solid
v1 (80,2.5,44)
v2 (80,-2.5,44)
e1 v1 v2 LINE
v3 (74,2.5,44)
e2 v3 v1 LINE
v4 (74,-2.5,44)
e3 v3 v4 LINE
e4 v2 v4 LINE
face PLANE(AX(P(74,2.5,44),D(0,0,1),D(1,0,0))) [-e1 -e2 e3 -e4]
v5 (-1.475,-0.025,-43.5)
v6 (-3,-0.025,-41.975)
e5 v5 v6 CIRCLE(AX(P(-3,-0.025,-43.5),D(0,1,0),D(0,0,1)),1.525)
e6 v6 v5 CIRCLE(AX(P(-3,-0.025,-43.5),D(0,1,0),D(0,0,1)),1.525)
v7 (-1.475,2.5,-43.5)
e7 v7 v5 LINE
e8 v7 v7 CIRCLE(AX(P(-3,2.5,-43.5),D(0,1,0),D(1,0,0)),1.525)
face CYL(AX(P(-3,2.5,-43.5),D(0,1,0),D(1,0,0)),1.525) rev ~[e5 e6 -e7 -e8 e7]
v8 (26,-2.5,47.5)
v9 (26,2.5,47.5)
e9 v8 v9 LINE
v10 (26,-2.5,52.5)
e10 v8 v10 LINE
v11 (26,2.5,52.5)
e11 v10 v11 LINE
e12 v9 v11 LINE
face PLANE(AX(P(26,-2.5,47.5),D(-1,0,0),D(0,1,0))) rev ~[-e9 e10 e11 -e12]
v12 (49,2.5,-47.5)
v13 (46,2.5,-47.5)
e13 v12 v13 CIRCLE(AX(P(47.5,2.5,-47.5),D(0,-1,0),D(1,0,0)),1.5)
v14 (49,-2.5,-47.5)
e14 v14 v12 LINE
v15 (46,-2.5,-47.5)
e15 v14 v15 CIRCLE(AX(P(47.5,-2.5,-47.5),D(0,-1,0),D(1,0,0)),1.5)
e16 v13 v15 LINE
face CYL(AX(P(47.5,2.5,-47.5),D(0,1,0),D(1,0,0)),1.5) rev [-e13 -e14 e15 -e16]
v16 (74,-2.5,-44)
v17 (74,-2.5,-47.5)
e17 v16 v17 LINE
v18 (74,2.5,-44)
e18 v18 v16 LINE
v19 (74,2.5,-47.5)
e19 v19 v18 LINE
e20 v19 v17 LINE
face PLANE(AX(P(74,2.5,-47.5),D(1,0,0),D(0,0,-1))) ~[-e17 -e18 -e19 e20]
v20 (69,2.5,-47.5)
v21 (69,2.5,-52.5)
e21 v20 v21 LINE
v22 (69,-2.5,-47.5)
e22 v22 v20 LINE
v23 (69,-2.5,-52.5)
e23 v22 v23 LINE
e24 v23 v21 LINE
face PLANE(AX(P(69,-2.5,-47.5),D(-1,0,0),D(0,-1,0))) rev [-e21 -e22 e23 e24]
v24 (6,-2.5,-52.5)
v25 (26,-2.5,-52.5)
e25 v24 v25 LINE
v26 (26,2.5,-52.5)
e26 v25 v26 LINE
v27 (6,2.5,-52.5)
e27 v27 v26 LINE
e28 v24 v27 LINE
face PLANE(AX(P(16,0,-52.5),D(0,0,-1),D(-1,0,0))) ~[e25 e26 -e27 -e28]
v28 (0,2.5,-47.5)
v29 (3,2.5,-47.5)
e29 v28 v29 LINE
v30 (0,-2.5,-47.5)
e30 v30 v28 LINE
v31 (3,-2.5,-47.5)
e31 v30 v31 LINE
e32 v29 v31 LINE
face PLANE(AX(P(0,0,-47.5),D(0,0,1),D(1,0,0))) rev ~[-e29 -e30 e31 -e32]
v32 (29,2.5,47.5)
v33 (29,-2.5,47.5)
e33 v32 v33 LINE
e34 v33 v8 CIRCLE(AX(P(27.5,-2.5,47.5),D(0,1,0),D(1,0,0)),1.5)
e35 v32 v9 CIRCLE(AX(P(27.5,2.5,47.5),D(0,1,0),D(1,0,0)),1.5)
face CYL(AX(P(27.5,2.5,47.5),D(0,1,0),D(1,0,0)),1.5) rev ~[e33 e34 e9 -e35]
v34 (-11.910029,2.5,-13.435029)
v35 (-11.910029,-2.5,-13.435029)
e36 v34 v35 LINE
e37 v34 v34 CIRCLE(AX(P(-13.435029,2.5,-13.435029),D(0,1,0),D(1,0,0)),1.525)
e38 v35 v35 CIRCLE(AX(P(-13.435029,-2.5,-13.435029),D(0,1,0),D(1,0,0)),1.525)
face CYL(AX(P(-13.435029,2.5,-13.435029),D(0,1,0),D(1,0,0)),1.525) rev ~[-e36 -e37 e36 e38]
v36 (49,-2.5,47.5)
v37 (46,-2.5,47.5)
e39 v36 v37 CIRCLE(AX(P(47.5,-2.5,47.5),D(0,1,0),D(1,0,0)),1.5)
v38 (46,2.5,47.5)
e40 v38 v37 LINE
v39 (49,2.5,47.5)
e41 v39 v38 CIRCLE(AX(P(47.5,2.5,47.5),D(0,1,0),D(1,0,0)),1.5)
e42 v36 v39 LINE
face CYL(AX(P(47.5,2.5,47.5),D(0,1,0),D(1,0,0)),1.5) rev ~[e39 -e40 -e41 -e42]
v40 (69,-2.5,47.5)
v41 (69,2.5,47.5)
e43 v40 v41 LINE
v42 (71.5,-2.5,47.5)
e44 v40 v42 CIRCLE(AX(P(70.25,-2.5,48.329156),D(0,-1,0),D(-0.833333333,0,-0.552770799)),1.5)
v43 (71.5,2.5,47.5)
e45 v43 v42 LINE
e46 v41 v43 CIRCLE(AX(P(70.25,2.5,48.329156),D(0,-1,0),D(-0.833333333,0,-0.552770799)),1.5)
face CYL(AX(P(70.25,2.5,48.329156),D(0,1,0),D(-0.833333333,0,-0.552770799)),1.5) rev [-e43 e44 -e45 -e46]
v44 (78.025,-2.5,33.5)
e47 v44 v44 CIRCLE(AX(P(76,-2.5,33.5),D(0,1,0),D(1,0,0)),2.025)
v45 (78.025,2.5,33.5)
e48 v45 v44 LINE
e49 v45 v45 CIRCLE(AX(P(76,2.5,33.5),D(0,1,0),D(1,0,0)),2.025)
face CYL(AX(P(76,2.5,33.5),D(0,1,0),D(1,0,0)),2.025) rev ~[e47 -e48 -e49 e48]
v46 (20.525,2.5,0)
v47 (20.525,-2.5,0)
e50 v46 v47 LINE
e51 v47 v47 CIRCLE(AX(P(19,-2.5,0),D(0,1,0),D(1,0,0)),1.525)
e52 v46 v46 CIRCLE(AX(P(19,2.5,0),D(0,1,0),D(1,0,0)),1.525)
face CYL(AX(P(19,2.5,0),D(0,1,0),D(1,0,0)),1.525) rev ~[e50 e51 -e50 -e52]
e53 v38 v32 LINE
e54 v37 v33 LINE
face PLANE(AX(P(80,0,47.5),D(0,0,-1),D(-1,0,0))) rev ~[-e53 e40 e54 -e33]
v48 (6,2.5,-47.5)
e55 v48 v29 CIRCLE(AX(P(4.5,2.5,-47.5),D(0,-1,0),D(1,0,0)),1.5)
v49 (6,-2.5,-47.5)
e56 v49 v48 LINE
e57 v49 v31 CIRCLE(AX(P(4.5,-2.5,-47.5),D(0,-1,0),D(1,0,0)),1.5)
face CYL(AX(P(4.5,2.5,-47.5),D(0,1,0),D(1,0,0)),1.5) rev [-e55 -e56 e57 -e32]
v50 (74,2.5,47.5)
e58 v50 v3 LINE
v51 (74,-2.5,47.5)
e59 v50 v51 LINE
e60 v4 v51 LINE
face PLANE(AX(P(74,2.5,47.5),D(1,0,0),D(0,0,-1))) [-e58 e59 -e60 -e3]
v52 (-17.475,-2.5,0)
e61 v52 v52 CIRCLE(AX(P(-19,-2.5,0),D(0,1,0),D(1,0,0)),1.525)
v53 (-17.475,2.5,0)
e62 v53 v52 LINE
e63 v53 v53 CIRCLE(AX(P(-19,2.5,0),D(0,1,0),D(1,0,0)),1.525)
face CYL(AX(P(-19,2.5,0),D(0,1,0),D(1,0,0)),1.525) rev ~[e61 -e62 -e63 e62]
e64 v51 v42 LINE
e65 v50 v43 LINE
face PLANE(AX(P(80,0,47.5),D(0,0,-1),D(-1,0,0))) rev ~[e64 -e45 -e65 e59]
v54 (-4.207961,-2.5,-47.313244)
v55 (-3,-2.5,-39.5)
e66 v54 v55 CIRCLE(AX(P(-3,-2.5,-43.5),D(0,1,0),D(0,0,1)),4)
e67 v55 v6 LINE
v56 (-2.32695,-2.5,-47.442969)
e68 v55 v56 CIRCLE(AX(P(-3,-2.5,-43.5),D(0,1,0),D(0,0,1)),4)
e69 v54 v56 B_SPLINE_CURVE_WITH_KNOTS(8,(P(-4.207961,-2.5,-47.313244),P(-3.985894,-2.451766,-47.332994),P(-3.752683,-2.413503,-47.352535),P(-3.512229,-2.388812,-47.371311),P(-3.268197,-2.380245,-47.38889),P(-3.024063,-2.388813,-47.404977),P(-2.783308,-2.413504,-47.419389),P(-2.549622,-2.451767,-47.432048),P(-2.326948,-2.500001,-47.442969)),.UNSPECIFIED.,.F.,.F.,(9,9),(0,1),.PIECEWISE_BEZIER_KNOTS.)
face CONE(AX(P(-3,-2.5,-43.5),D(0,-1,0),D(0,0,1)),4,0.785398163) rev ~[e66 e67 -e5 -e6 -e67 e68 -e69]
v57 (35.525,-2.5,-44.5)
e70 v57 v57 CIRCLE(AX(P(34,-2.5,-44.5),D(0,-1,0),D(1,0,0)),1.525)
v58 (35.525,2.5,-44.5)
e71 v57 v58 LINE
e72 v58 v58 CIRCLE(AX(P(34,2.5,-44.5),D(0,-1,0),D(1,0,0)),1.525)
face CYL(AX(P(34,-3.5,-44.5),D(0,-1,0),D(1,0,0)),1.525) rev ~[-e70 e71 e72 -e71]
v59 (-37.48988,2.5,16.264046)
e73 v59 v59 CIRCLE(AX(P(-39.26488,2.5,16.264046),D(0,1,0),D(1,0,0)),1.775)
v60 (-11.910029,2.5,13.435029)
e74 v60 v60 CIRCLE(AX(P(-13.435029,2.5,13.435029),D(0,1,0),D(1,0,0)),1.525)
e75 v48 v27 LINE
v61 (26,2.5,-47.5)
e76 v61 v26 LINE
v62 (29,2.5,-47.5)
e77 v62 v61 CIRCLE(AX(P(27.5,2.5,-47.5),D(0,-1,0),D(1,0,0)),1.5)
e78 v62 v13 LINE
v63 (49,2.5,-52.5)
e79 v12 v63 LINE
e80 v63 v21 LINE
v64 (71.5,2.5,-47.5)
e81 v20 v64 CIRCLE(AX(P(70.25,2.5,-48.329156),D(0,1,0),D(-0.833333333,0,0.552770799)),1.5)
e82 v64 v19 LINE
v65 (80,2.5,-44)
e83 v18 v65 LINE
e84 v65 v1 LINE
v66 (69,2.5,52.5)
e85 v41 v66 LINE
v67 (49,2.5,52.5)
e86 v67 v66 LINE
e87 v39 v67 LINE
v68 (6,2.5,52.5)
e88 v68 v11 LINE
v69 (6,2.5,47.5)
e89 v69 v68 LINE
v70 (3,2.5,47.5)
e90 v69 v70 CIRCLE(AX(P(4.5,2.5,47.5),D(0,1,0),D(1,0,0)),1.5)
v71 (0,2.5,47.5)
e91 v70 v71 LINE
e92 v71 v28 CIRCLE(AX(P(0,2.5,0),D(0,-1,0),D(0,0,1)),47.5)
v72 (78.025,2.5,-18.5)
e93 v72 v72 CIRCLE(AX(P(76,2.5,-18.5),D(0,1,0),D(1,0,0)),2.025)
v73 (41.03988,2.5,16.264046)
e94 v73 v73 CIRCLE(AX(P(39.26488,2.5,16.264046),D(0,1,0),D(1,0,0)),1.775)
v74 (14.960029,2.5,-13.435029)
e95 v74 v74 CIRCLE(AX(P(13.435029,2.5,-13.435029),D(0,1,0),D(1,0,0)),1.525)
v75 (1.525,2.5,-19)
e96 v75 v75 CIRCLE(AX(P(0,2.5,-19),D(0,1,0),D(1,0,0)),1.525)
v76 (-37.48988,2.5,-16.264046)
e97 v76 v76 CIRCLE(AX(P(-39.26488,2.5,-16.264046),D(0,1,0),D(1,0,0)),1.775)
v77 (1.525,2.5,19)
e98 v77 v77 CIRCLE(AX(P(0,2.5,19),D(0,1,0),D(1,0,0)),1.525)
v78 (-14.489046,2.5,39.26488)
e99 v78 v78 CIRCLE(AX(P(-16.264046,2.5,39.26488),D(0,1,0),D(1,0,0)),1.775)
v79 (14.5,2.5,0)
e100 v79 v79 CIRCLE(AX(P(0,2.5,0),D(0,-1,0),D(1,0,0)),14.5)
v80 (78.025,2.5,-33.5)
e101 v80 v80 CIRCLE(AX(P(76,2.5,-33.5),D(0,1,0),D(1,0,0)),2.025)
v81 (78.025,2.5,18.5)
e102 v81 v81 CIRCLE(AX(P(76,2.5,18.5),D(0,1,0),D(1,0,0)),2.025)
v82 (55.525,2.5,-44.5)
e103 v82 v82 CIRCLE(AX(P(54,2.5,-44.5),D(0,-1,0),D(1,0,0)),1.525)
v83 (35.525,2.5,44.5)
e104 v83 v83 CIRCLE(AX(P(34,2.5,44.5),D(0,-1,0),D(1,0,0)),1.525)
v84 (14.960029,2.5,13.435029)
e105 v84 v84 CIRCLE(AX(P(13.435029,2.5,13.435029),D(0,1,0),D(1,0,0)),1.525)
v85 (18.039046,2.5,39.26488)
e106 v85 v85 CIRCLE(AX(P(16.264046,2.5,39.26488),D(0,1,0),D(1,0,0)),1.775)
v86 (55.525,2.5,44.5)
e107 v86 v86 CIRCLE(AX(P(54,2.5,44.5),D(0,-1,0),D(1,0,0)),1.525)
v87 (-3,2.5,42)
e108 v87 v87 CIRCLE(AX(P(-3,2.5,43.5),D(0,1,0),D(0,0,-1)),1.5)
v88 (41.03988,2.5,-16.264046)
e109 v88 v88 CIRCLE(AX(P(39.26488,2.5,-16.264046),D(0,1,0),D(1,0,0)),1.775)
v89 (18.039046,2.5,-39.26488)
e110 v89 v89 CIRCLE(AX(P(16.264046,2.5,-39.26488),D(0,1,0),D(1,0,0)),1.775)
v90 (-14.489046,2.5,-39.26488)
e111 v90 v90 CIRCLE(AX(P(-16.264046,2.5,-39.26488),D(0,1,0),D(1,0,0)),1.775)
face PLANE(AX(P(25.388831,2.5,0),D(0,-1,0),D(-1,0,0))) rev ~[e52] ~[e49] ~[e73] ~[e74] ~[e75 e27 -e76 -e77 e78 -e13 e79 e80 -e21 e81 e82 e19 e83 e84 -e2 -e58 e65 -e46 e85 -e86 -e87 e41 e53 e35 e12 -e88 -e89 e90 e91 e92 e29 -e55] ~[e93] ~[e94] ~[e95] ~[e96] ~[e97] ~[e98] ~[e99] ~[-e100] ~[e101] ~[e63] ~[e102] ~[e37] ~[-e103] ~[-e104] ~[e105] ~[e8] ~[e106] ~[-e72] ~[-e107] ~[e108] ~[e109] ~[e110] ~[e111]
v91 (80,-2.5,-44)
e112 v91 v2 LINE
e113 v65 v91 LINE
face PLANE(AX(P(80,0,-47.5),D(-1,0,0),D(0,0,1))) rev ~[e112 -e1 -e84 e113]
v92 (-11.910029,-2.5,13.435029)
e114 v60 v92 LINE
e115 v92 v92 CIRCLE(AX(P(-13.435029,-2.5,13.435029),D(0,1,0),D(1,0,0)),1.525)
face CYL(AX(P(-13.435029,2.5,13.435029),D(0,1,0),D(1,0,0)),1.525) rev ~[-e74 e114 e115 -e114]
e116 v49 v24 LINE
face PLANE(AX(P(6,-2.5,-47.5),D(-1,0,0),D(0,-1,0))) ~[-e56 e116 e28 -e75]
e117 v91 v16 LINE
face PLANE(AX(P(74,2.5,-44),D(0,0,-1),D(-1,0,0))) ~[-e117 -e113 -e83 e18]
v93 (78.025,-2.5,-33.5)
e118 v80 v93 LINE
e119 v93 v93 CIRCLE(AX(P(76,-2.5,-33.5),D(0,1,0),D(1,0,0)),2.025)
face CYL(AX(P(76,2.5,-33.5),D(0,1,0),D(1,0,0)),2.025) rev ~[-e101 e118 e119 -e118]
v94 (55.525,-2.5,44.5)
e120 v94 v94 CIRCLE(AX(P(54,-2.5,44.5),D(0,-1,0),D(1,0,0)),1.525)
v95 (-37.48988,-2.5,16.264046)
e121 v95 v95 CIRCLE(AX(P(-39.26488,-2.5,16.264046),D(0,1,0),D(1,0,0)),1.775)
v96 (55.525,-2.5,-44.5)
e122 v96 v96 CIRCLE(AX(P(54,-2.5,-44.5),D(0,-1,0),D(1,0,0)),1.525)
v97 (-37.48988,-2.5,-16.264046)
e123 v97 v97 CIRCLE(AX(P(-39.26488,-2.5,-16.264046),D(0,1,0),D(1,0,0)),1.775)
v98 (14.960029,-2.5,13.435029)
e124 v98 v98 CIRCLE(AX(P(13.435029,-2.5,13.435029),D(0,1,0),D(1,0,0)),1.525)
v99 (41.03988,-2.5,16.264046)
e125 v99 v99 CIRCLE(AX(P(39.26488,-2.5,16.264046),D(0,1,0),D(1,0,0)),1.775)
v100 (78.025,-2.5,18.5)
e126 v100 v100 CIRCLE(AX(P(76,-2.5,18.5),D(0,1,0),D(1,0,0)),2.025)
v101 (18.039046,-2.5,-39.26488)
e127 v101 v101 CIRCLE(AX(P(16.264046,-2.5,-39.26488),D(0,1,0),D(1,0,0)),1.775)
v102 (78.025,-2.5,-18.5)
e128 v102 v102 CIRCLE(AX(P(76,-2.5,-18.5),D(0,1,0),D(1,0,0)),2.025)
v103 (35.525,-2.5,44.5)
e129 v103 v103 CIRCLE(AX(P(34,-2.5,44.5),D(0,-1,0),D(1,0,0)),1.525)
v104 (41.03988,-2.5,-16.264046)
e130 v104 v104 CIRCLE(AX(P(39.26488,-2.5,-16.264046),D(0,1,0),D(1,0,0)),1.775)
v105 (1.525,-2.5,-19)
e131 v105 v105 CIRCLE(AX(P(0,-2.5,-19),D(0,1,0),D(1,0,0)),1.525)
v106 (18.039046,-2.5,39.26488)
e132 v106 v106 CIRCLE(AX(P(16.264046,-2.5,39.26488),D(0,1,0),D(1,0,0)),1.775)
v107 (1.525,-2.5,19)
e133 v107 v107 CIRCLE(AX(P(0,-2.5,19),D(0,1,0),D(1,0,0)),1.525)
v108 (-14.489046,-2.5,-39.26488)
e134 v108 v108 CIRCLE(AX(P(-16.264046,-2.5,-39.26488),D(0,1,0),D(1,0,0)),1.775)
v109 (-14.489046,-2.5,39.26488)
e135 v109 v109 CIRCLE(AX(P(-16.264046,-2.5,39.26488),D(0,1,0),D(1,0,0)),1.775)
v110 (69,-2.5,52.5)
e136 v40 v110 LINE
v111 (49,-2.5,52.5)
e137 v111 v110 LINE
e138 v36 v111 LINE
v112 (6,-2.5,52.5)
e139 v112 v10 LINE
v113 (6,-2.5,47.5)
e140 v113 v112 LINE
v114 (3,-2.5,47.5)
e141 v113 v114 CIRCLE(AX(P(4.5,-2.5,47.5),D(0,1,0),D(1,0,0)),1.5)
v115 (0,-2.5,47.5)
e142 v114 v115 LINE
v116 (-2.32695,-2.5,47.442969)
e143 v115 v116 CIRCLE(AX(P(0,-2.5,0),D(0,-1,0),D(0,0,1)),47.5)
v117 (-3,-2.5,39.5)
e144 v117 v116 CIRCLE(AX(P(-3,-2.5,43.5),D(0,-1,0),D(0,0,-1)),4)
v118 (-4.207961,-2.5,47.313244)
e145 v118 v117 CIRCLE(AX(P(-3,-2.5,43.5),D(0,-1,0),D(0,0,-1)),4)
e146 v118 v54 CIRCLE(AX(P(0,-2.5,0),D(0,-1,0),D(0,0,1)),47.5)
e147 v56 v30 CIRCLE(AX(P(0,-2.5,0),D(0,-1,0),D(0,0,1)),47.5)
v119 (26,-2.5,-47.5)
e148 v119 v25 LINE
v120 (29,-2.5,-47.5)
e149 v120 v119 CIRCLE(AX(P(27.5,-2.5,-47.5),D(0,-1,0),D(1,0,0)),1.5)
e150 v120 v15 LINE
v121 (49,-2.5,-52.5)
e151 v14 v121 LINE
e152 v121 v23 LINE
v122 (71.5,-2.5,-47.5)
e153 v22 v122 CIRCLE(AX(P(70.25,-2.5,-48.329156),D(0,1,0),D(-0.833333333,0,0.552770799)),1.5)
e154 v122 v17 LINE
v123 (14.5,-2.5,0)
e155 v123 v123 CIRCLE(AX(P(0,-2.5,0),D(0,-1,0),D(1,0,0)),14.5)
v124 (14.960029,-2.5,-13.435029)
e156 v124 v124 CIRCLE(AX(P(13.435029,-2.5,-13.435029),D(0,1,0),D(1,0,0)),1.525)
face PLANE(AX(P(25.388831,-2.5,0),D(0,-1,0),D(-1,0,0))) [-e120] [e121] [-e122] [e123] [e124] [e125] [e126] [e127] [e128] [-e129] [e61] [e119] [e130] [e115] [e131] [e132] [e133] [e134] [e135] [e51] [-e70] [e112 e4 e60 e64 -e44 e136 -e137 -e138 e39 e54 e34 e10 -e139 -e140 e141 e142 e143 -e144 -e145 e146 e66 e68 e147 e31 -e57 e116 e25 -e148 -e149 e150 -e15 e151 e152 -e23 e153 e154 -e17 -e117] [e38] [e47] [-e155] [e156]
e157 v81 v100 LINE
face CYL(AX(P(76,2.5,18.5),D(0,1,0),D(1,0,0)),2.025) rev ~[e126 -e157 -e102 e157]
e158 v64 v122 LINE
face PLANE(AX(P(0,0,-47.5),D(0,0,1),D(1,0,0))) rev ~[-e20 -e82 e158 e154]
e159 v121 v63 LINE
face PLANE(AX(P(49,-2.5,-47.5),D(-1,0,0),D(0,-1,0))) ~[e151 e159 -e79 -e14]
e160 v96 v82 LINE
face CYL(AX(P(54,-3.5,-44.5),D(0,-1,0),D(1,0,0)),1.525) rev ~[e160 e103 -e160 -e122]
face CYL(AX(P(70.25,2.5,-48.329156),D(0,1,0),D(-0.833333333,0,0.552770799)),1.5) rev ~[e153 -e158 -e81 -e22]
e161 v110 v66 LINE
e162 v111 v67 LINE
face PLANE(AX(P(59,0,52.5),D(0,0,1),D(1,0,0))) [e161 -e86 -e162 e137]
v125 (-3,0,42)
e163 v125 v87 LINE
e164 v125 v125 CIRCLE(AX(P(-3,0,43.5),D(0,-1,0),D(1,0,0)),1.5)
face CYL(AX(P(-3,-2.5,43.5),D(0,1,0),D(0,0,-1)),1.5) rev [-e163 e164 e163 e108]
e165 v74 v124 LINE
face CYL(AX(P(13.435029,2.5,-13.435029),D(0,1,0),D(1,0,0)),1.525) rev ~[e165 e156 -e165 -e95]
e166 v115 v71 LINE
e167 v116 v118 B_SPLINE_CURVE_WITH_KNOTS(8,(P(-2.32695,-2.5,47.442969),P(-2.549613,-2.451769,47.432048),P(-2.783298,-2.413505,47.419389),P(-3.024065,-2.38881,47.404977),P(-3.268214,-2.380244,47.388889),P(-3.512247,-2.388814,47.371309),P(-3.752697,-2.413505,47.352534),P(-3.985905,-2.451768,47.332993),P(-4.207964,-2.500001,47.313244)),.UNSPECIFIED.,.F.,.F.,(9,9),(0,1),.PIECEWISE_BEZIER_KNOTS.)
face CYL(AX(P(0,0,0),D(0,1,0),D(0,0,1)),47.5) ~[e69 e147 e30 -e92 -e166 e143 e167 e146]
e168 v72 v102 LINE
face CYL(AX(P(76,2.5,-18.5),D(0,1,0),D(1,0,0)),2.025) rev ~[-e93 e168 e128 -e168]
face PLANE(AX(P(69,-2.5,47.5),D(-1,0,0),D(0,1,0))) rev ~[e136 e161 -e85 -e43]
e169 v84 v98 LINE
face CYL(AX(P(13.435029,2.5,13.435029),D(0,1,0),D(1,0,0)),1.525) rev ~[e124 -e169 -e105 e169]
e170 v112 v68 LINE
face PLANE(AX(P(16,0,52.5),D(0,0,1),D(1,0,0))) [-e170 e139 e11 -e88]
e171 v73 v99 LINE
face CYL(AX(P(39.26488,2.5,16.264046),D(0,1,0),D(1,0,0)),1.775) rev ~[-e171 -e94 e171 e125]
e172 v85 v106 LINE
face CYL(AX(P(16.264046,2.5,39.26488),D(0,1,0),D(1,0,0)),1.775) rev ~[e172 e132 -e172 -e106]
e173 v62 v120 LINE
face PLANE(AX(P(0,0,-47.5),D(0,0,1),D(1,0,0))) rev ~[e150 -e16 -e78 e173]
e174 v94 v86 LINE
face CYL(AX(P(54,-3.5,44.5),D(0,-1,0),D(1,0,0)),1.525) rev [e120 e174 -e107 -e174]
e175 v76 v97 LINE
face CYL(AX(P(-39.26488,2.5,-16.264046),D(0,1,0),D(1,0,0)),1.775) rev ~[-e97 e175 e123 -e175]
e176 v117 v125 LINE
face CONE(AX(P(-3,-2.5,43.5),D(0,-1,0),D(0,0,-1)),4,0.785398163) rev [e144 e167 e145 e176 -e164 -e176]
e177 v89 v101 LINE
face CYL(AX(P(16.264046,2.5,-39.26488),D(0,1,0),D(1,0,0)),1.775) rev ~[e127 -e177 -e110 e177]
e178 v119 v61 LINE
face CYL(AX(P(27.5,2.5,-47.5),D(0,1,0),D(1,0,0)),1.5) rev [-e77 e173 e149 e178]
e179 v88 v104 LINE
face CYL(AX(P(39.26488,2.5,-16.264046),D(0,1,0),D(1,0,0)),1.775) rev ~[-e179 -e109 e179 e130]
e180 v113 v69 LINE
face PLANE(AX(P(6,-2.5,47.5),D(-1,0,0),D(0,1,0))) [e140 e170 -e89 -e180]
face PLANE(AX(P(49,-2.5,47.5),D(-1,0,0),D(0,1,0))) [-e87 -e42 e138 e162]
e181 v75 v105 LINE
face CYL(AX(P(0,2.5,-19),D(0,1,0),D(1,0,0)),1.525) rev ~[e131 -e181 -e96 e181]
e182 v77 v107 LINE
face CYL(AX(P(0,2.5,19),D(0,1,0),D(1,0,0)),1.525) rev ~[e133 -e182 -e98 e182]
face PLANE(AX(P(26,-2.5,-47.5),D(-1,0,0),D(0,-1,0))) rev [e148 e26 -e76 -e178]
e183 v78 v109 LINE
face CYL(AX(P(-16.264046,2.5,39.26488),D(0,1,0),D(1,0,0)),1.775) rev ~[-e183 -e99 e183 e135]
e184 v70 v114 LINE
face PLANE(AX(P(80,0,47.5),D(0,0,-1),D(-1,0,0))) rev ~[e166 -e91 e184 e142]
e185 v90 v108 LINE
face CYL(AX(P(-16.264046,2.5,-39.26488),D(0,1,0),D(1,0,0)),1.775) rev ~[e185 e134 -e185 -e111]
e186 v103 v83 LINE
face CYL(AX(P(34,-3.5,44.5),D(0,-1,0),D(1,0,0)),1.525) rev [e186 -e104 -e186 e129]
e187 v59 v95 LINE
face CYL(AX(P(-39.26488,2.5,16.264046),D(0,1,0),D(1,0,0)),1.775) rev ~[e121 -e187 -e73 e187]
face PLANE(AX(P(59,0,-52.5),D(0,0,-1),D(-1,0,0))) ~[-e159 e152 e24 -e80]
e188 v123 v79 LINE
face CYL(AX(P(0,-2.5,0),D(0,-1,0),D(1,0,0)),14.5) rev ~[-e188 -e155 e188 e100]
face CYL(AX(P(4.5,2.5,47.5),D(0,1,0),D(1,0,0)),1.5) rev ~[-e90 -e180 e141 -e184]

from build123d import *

# Parameters (mm, degrees)
EXTRUDE_1_DEPTH           = 2.5
FILLET_1_R                = 3
SKETCH_2_R                = 1.775
CUT_EXTRUDE_1_DEPTH       = 1
CUT_EXTRUDE_1_DEPTH_BACK  = 6
SKETCH_4_R                = 2.025
CUT_EXTRUDE_3_DEPTH       = 1
CUT_EXTRUDE_3_DEPTH_BACK  = 6
SKETCH_12_W               = 6
SKETCH_12_H               = 3.5
CUT_EXTRUDE_9_DEPTH       = 10
SKETCH_14_W               = 20
SKETCH_14_H               = 5
EXTRUDE_3_DEPTH           = 5
CUT_EXTRUDE_10_DEPTH      = 5
CUT_EXTRUDE_START         = -6
SKETCH_16_R               = 1.525
CUT_EXTRUDE_11_DEPTH      = 7
SKETCH_18_R               = 1.525
CUT_EXTRUDE_13_DEPTH      = 8
HOLE_WIZARD_1_D           = 3
HOLE_WIZARD_1_CSINK_D     = 8
HOLE_WIZARD_1_CSINK_ANGLE = 90
SKETCH_20_R               = 1.525
CUT_EXTRUDE_14_DEPTH      = 6.0000001
SKETCH_21_R               = 14.5
CUT_EXTRUDE_15_DEPTH      = 6.0000001


with BuildPart() as part:
    # 草图1 → 凸台-拉伸1 (new body, symmetric)
    with BuildSketch(Plane(origin=(0, 0, 0), x_dir=(1, 0, 0), z_dir=(0, 1, 0))):
        with BuildLine():
            Line((0, 47.5), (80, 47.5))
            Line((80, 47.5), (80, -47.5))
            Line((80, -47.5), (0, -47.5))
            ThreePointArc((0, -47.5), (-47.5, 0), (0, 47.5))
        make_face()
    extrude(amount=EXTRUDE_1_DEPTH, both=True)

    # 圆角1
    fillet_1_edges = [part.edges().sort_by_distance(p)[0] for p in [
        (80, 0, -47.5),
        (80, 0, 47.5),
    ]]
    fillet(fillet_1_edges, radius=FILLET_1_R)

    # 草图2 → 切除-拉伸1 (cut, two sides)
    with BuildSketch(Plane(origin=(0, 2.5, 0), x_dir=(1, 0, 0), z_dir=(0, 1, 0))) as cut_extrude_1_sk:
        with Locations((-39.264880132, 16.264045876)):
            Circle(SKETCH_2_R)
        with Locations((-16.264045876, 39.264880132)):
            Circle(SKETCH_2_R)
        with Locations((16.264045876, 39.264880132)):
            Circle(SKETCH_2_R)
        with Locations((39.264880132, 16.264045876)):
            Circle(SKETCH_2_R)
        with Locations((39.264880132, -16.264045876)):
            Circle(SKETCH_2_R)
        with Locations((16.264045876, -39.264880132)):
            Circle(SKETCH_2_R)
        with Locations((-16.264045876, -39.264880132)):
            Circle(SKETCH_2_R)
        with Locations((-39.264880132, -16.264045876)):
            Circle(SKETCH_2_R)
    extrude(amount=CUT_EXTRUDE_1_DEPTH, mode=Mode.SUBTRACT)
    extrude(cut_extrude_1_sk.sketch, amount=-CUT_EXTRUDE_1_DEPTH_BACK, mode=Mode.SUBTRACT)

    # 草图4 → 切除-拉伸3 (cut, two sides)
    with BuildSketch(Plane(origin=(0, 2.5, 0), x_dir=(1, 0, 0), z_dir=(0, 1, 0))) as cut_extrude_3_sk:
        with Locations((76, -33.5)):
            Circle(SKETCH_4_R)
        with Locations((76, 33.5)):
            Circle(SKETCH_4_R)
        with Locations((76, 18.5)):
            Circle(SKETCH_4_R)
        with Locations((76, -18.5)):
            Circle(SKETCH_4_R)
    extrude(amount=CUT_EXTRUDE_3_DEPTH, mode=Mode.SUBTRACT)
    extrude(cut_extrude_3_sk.sketch, amount=-CUT_EXTRUDE_3_DEPTH_BACK, mode=Mode.SUBTRACT)

    # 草图12 → 切除-拉伸9 (cut)
    with BuildSketch(Plane(origin=(0, 2.5, 0), x_dir=(1, 0, 0), z_dir=(0, 1, 0))):
        with Locations((77, -45.75)):
            Rectangle(SKETCH_12_W, SKETCH_12_H)
    cut_extrude_9 = extrude(amount=-CUT_EXTRUDE_9_DEPTH, mode=Mode.SUBTRACT)

    # 草图14 → 凸台-拉伸3 (add)
    with BuildSketch(Plane.XY.offset(47.5)):
        with Locations((59, 0)):
            Rectangle(SKETCH_14_W, SKETCH_14_H)
        with Locations((16, 0)):
            Rectangle(SKETCH_14_W, SKETCH_14_H)
    extrude_3 = extrude(amount=EXTRUDE_3_DEPTH)

    # 草图15 → 切除-拉伸10 (cut)
    with BuildSketch(Plane(origin=(0, 2.5, 0), x_dir=(1, 0, 0), z_dir=(0, 1, 0))):
        with BuildLine():
            Line((26, -47.5), (29, -47.5))
            ThreePointArc((29, -47.5), (27.5, -46), (26, -47.5))
        make_face()
        with BuildLine():
            Line((46, -47.5), (49, -47.5))
            ThreePointArc((49, -47.5), (47.5, -46), (46, -47.5))
        make_face()
        with BuildLine():
            Line((71.5, -47.5), (69, -47.5))
            ThreePointArc((69, -47.5), (70.25, -46.829156198), (71.5, -47.5))
        make_face()
        with BuildLine():
            Line((3, -47.5), (6, -47.5))
            ThreePointArc((6, -47.5), (4.5, -46), (3, -47.5))
        make_face()
    cut_extrude_10 = extrude(amount=-CUT_EXTRUDE_10_DEPTH, mode=Mode.SUBTRACT)

    # 镜向4: 凸台-拉伸3 across plane
    add(extrude_3.mirror(Plane.XY))

    # 草图16 → 切除-拉伸11 (cut)
    with BuildSketch(Plane(origin=(0, 2.5, 0), x_dir=(1, 0, 0), z_dir=(0, 1, 0)).offset(CUT_EXTRUDE_START)):
        with Locations((34, -44.5)):
            Circle(SKETCH_16_R)
        with Locations((54, -44.5)):
            Circle(SKETCH_16_R)
    cut_extrude_11 = extrude(amount=CUT_EXTRUDE_11_DEPTH, mode=Mode.SUBTRACT)

    # 镜向5: 切除-拉伸9, 切除-拉伸10, 切除-拉伸11 across plane
    add(cut_extrude_9.mirror(Plane.XY), mode=Mode.SUBTRACT)
    add(cut_extrude_10.mirror(Plane.XY), mode=Mode.SUBTRACT)
    add(cut_extrude_11.mirror(Plane.XY), mode=Mode.SUBTRACT)

    # 草图18 → 切除-拉伸13 (cut)
    with BuildSketch(Plane(origin=(0, 2.5, 0), x_dir=(1, 0, 0), z_dir=(0, 1, 0))):
        with Locations((-3, 43.5)):
            Circle(SKETCH_18_R)
    extrude(amount=-CUT_EXTRUDE_13_DEPTH, mode=Mode.SUBTRACT)

    # 孔1 (through all)
    with Locations(Plane(origin=(-3, -2.5, -43.5), x_dir=(0, 0, -1), z_dir=(0, -1, 0))):
        with Locations((0, 0)):
            hole_wizard_1 = CounterSinkHole(HOLE_WIZARD_1_D / 2, HOLE_WIZARD_1_CSINK_D / 2, counter_sink_angle=HOLE_WIZARD_1_CSINK_ANGLE)

    # 镜向6: 孔1 across plane
    add(hole_wizard_1.mirror(Plane.XY), mode=Mode.SUBTRACT)

    # 草图20 → 切除-拉伸14 (cut, through all)
    with BuildSketch(Plane(origin=(0, 2.5, 0), x_dir=(1, 0, 0), z_dir=(0, 1, 0))):
        with Locations((-13.435028843, 13.435028843)):
            Circle(SKETCH_20_R)
        with Locations((0, 19)):
            Circle(SKETCH_20_R)
        with Locations((13.435028843, 13.435028843)):
            Circle(SKETCH_20_R)
        with Locations((19, 0)):
            Circle(SKETCH_20_R)
        with Locations((13.435028843, -13.435028843)):
            Circle(SKETCH_20_R)
        with Locations((0, -19)):
            Circle(SKETCH_20_R)
        with Locations((-13.435028843, -13.435028843)):
            Circle(SKETCH_20_R)
        with Locations((-19, 0)):
            Circle(SKETCH_20_R)
    extrude(amount=-CUT_EXTRUDE_14_DEPTH, mode=Mode.SUBTRACT)

    # 草图21 → 切除-拉伸15 (cut, through all)
    with BuildSketch(Plane.XZ.offset(2.5)):
        Circle(SKETCH_21_R)
    extrude(amount=-CUT_EXTRUDE_15_DEPTH, mode=Mode.SUBTRACT)


solid = part.part
